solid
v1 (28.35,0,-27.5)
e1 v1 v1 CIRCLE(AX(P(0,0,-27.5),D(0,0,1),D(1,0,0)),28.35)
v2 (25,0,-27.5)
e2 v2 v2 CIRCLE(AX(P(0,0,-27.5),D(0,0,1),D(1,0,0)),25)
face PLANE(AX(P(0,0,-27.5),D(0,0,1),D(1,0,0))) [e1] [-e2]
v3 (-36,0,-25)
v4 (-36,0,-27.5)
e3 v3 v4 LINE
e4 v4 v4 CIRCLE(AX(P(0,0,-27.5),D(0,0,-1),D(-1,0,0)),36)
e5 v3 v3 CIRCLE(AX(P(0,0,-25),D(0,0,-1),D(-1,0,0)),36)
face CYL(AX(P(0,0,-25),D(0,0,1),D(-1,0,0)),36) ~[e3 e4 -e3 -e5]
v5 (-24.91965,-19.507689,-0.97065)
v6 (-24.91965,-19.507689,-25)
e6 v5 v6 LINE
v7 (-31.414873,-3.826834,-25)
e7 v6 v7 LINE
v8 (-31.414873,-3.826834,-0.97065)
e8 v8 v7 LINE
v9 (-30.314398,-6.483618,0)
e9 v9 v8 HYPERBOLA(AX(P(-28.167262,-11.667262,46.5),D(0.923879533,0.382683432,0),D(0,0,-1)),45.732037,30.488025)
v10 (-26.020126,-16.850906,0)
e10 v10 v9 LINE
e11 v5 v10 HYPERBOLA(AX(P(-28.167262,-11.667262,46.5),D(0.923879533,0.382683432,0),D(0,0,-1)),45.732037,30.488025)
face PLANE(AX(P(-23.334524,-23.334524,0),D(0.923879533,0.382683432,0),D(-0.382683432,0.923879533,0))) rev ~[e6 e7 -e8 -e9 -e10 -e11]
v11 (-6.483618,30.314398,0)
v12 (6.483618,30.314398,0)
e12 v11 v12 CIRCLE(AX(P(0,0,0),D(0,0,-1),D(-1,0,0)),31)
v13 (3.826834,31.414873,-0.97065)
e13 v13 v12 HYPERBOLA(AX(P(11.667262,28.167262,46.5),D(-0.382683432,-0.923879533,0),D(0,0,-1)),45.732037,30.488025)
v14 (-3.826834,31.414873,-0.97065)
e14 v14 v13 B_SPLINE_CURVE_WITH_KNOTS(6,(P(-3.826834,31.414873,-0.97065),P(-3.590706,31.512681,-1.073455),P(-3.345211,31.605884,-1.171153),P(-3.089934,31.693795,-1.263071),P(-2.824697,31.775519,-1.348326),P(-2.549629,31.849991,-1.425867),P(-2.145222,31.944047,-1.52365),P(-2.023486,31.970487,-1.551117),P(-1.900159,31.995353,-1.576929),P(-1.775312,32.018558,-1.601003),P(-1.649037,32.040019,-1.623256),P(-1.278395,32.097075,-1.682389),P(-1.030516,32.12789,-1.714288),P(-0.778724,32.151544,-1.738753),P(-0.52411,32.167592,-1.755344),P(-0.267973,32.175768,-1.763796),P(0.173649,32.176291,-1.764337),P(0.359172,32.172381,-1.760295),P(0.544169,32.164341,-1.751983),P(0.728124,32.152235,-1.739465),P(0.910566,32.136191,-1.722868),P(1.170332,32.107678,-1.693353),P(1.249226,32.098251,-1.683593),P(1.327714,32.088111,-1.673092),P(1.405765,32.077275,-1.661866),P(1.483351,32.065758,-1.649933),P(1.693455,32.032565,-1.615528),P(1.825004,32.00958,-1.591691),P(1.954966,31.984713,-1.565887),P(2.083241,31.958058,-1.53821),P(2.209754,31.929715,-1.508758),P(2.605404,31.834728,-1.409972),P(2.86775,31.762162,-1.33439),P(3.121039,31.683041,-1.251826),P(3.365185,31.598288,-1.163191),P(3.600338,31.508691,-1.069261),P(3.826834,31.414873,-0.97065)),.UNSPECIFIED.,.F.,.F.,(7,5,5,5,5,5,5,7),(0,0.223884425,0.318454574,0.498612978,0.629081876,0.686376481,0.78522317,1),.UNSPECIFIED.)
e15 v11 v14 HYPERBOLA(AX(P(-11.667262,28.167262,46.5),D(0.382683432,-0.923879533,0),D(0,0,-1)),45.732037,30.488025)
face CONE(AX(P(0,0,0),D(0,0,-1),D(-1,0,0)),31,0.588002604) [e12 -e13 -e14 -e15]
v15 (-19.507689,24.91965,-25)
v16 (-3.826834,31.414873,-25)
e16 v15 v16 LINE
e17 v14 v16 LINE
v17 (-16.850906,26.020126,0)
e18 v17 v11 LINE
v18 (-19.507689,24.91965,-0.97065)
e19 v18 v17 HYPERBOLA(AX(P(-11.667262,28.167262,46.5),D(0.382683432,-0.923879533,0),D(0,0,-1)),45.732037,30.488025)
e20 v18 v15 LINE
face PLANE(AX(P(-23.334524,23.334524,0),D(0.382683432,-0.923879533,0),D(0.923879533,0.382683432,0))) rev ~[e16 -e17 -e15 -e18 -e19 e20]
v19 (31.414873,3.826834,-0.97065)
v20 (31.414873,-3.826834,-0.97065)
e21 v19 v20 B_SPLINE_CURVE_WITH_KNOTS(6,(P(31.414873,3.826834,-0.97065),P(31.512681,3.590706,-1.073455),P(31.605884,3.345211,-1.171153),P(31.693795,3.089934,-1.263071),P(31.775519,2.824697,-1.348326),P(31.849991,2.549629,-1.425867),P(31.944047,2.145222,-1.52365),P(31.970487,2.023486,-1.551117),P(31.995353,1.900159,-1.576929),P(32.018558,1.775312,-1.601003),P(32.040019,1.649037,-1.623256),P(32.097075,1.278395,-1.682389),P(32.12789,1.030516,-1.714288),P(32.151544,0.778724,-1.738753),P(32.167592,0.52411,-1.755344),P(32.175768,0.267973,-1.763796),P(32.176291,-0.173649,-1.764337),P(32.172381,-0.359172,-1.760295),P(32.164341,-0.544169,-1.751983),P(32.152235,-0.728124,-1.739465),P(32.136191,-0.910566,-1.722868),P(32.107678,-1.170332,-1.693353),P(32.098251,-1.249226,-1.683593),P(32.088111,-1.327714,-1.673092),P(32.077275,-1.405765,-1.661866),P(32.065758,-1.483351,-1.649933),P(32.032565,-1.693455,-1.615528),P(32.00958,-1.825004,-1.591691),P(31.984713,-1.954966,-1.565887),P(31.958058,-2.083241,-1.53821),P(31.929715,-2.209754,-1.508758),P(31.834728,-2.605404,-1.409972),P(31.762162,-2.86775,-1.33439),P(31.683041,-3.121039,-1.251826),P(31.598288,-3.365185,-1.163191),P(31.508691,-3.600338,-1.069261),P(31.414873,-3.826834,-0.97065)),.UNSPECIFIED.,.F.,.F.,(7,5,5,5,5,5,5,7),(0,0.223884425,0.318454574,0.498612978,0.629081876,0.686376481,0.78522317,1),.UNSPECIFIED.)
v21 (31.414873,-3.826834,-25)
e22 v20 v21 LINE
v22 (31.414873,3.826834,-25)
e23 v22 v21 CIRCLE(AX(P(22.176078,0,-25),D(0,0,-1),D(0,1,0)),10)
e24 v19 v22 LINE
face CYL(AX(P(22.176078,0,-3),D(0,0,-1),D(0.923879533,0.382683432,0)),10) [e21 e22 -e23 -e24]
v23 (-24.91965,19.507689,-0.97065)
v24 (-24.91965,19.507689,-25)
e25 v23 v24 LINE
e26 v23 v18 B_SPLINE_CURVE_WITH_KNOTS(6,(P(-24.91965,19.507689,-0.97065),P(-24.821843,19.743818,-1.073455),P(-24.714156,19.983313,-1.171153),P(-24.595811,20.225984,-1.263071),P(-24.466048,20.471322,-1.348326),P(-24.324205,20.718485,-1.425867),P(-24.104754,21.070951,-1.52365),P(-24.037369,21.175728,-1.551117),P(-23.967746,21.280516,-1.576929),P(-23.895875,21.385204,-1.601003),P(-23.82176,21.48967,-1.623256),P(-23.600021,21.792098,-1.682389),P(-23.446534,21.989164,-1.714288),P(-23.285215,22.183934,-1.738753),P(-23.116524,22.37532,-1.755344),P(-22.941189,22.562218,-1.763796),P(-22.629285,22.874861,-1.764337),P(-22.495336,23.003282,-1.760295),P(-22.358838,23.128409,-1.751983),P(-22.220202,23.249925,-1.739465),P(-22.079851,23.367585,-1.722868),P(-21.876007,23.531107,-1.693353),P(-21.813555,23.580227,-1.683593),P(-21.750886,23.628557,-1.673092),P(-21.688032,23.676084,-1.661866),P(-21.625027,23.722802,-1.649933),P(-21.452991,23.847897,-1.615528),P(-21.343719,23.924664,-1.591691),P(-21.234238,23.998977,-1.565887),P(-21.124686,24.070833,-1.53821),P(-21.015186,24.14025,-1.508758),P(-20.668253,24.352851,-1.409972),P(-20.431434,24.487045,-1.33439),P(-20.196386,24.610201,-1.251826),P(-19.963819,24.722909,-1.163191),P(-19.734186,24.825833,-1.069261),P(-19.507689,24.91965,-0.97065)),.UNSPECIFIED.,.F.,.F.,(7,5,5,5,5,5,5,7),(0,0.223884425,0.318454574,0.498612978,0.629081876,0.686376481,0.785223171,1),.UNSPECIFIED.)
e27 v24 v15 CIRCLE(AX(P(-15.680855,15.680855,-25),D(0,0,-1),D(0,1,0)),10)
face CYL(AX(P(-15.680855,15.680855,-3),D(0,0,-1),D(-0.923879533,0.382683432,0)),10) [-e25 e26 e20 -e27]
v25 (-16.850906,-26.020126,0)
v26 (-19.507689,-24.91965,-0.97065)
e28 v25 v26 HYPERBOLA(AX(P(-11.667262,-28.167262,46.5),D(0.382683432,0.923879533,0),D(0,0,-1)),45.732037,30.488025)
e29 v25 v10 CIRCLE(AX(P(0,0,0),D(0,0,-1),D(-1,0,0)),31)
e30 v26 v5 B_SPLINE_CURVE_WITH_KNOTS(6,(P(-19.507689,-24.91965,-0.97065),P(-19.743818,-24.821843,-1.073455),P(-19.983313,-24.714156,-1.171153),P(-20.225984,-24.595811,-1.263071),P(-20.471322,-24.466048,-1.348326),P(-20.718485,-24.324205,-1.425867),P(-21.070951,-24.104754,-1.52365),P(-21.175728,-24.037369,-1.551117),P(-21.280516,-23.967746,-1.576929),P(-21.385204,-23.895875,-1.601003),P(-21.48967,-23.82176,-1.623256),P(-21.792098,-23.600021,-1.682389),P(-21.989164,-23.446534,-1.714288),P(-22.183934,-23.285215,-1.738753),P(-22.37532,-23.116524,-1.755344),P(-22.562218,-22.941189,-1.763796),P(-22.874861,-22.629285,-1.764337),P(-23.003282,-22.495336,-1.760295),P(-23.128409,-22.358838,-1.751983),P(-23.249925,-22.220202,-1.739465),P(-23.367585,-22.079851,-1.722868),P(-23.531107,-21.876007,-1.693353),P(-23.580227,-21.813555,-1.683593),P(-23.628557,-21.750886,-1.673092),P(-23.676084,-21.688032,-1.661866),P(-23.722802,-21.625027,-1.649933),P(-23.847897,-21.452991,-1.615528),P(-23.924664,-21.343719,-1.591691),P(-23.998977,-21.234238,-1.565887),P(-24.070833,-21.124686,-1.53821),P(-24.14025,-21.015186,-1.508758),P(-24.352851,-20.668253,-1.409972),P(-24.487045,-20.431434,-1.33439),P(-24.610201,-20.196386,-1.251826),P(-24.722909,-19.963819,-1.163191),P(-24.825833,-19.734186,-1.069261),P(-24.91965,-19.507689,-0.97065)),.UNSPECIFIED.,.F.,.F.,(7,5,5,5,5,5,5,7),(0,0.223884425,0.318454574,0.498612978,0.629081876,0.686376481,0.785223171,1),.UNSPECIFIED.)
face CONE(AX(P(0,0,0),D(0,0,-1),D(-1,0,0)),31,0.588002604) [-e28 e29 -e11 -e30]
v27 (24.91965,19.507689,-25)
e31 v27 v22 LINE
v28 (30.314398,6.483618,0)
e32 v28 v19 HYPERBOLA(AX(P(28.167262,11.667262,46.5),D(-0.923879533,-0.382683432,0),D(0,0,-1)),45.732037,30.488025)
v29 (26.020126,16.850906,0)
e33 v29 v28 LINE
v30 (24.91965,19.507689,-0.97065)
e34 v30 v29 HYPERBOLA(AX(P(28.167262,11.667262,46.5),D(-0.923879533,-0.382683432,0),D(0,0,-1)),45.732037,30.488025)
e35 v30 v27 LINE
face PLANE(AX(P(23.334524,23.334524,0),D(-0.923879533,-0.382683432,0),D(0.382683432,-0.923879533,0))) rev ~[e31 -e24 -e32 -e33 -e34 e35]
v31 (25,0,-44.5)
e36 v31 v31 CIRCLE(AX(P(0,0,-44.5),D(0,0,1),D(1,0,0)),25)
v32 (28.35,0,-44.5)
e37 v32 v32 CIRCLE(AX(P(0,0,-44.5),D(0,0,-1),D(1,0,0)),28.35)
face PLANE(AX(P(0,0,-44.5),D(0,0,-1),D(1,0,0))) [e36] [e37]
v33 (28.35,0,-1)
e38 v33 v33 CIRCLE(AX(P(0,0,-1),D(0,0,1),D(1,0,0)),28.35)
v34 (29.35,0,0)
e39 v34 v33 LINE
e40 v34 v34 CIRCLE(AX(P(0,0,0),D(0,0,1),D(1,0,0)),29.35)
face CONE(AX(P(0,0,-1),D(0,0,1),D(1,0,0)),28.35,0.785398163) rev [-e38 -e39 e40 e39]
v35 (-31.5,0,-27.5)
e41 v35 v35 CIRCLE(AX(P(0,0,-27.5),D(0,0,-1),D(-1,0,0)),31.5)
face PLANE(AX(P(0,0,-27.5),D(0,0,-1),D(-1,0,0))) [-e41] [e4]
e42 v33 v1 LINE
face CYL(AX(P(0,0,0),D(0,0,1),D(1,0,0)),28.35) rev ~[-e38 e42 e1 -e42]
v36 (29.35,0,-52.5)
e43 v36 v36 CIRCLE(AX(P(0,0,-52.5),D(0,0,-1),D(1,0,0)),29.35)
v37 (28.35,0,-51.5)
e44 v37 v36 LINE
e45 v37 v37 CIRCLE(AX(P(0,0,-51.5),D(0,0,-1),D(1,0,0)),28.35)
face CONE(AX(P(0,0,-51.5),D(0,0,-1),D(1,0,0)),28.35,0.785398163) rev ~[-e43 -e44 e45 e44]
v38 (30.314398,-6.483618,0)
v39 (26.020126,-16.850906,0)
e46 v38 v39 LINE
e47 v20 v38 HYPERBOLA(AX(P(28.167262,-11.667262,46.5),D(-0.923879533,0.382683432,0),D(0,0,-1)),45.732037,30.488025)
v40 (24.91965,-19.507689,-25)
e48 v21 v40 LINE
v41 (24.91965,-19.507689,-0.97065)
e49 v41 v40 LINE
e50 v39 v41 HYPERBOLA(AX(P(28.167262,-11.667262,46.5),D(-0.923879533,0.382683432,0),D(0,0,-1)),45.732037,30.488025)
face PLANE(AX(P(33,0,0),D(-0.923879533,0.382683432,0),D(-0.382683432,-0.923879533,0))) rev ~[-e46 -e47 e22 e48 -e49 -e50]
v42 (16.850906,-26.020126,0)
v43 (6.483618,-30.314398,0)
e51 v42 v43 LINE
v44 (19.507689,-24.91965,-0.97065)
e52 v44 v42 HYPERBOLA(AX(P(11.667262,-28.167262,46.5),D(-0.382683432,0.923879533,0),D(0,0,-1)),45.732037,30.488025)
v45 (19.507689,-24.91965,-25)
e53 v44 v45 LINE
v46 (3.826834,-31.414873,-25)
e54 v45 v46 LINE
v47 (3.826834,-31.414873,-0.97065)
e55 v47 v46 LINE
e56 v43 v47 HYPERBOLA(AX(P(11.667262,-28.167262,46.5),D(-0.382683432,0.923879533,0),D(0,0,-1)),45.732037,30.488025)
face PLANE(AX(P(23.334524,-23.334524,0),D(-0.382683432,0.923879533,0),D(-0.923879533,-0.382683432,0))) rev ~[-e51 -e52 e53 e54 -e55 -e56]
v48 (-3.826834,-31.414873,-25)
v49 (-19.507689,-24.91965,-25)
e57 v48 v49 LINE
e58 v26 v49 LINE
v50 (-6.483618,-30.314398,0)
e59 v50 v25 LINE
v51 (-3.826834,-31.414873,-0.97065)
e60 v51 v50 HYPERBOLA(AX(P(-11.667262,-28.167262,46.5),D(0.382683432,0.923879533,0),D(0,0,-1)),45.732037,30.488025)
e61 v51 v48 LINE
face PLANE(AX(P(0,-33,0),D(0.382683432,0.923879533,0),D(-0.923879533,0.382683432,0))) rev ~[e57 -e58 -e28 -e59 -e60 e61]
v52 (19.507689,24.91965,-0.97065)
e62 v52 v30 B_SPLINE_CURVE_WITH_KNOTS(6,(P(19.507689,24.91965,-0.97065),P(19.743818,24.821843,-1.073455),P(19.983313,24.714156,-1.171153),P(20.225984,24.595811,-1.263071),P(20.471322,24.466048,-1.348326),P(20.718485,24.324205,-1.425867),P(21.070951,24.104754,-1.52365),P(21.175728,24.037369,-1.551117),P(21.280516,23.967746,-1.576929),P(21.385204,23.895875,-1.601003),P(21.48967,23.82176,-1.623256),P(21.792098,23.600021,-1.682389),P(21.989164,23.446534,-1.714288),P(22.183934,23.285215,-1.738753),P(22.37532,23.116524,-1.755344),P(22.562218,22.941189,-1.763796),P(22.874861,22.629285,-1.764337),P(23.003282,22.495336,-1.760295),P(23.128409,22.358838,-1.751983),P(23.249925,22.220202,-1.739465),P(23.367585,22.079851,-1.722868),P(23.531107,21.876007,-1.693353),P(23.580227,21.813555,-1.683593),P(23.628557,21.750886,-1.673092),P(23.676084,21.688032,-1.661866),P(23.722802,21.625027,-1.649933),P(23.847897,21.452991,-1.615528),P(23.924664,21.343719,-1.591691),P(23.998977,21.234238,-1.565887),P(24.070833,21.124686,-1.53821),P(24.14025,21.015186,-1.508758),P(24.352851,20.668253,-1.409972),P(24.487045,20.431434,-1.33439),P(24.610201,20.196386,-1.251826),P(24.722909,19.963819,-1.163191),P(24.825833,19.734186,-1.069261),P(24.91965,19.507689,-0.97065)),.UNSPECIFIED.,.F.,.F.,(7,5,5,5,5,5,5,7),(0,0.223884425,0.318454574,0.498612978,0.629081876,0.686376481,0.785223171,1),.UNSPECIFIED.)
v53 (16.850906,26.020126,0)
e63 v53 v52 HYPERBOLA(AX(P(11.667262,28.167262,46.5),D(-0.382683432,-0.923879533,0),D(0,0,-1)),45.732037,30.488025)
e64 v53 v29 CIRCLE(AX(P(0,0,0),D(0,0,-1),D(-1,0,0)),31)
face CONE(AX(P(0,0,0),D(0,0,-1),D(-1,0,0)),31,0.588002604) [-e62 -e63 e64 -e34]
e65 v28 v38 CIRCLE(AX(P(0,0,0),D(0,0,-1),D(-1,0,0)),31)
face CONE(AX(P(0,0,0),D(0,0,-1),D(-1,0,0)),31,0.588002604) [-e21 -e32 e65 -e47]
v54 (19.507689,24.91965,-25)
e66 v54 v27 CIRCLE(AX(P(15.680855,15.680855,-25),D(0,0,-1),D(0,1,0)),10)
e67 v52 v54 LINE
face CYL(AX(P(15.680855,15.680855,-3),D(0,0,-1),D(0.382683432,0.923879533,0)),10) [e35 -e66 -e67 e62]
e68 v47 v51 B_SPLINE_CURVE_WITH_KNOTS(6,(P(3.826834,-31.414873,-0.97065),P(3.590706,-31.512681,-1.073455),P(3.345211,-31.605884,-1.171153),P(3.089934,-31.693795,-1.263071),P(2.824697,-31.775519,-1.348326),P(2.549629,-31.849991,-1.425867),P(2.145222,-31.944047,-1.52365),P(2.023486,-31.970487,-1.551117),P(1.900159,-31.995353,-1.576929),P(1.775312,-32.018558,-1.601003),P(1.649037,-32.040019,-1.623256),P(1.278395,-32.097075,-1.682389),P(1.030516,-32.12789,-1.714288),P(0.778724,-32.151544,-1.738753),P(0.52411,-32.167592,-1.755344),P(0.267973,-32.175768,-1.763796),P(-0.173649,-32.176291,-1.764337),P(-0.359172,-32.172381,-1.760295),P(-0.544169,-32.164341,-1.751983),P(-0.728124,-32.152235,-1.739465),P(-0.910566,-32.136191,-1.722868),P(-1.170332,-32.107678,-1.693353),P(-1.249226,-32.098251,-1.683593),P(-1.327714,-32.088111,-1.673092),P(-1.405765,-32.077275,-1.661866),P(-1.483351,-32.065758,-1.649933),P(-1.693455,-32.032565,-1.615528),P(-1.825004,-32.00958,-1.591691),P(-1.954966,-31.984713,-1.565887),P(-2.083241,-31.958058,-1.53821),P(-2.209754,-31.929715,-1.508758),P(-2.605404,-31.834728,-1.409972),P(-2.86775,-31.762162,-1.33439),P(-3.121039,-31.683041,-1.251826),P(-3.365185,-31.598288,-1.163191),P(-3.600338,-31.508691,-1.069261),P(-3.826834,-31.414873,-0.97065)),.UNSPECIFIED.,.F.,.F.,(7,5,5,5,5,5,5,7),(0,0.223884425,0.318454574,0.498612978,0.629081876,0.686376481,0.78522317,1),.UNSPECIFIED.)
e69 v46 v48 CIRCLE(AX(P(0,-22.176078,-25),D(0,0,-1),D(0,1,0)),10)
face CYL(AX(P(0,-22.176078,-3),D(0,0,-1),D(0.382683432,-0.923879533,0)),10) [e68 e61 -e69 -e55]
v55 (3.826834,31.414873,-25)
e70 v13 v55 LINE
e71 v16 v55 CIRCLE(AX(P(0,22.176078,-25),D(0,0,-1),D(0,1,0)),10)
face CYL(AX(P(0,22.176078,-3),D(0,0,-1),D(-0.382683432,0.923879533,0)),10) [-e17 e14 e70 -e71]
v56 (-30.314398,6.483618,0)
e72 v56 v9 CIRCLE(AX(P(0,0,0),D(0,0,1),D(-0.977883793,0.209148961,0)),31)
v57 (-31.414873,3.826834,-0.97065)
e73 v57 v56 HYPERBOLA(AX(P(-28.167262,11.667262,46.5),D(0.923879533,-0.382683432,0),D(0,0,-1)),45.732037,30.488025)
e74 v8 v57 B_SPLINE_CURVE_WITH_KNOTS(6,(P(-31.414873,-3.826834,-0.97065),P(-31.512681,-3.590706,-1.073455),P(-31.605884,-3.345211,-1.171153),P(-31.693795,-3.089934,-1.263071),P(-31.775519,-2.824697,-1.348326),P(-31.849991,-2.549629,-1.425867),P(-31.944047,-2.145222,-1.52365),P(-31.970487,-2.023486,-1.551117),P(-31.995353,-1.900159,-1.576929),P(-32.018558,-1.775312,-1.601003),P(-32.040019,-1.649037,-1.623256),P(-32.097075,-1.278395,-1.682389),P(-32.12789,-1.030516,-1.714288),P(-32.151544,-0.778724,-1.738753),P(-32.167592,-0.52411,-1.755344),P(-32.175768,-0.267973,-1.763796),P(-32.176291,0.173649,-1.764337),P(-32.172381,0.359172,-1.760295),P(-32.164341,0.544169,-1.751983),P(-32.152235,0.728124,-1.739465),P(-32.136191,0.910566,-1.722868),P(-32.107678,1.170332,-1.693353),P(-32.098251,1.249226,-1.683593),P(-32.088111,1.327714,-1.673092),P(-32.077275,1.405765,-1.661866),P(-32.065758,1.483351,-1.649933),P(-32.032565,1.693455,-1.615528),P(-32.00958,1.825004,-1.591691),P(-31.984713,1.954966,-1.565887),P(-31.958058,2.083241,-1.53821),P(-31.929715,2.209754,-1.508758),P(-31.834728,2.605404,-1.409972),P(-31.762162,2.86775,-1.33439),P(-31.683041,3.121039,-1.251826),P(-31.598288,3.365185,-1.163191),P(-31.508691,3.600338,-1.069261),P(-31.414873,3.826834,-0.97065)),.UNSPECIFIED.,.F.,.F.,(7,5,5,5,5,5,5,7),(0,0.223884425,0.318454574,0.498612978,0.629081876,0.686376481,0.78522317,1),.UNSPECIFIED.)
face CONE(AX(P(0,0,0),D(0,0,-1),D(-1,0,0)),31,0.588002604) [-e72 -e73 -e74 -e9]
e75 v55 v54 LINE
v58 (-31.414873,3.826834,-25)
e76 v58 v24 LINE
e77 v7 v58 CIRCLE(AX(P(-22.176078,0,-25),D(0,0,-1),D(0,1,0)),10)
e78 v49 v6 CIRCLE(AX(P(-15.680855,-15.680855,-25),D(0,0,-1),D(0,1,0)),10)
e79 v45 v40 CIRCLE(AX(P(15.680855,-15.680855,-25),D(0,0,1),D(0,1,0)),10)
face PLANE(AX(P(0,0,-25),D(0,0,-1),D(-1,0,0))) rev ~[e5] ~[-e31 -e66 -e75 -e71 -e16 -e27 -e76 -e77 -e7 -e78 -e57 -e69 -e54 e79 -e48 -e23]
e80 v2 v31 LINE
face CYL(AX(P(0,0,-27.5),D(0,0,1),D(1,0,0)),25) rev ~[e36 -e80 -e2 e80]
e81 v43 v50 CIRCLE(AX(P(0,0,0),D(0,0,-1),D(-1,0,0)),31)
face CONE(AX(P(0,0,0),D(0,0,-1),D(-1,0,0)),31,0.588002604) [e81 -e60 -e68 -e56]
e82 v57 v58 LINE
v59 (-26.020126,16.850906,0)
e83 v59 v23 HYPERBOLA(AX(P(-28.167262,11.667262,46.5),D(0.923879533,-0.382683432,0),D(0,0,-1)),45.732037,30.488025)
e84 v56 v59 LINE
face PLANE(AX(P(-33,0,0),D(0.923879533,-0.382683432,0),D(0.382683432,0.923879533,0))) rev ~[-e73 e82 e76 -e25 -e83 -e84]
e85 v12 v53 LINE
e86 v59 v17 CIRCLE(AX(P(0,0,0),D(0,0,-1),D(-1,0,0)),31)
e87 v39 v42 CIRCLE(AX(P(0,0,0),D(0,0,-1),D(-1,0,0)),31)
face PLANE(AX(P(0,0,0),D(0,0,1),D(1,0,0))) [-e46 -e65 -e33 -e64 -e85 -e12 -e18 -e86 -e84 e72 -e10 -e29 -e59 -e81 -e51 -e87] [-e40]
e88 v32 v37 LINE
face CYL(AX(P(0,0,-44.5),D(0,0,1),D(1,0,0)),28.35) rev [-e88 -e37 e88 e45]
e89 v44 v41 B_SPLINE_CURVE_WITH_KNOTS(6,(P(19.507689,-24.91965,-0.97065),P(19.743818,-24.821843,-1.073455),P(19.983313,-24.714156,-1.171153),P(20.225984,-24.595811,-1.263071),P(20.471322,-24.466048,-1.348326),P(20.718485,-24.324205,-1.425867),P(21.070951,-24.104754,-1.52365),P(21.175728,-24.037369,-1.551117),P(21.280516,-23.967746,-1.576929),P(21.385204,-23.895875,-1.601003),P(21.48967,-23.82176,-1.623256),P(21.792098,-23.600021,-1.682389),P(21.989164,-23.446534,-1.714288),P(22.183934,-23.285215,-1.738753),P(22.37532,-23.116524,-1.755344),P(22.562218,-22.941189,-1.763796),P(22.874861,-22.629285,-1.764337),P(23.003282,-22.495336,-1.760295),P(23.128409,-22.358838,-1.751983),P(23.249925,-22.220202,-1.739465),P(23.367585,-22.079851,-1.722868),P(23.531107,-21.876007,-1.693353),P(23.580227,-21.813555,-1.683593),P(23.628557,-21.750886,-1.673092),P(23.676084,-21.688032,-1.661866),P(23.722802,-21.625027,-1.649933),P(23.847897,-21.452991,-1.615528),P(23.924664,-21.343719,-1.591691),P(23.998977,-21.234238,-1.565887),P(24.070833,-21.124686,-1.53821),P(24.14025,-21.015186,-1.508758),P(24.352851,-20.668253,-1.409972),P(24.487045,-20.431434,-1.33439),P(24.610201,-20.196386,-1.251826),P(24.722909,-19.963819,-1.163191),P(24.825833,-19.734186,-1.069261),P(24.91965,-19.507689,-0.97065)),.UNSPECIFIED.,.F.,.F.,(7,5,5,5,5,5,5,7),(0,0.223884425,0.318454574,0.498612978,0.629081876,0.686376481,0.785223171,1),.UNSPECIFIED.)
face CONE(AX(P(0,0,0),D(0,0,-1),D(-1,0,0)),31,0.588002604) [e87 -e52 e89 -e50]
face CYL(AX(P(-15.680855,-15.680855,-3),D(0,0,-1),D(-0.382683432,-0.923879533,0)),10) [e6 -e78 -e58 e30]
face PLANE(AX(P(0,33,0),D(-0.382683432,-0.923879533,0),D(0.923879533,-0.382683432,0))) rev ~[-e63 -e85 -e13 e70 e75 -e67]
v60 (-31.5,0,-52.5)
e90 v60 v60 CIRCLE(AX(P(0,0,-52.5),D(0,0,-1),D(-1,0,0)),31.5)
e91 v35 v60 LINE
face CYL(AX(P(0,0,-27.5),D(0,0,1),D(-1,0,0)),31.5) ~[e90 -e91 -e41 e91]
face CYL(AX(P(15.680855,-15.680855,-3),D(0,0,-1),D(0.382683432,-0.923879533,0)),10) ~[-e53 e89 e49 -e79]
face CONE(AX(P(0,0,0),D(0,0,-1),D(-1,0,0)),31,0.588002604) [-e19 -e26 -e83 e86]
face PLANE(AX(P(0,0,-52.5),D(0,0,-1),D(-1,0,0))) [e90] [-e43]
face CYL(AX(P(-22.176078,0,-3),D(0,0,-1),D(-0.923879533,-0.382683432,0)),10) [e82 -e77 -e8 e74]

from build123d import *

# Parameters (mm, degrees)
SZKIC1_R                    = 33
DODANIE_WYCI_GNI_CIE1_DEPTH = 25
SZKIC2_R                    = 36
DODANIE_WYCI_GNI_CIE2_DEPTH = 2.5
SZKIC4_R                    = 31.5
DODANIE_WYCI_GNI_CIE3_DEPTH = 25
SZKIC11_R                   = 28.35
WYTNIJ_WYCI_GNI_CIE5_DEPTH  = 27.5
SZKIC12_R                   = 25
WYTNIJ_WYCI_GNI_CIE6_DEPTH  = 27.5
WYTNIJ_WYCI_GNI_CIE7_START  = -8
SZKIC13_R                   = 28.35
WYTNIJ_WYCI_GNI_CIE7_DEPTH  = 8
SFAZOWANIE1_SIZE            = 1
SFAZOWANIE2_SIZE            = 1
WYTNIJ_WYCI_GNI_CIE11_DEPTH = 25
ZAOKR_GLENIE1_R             = 10


with BuildPart() as part:
    # Szkic1 → Dodanie-wyciągnięcie1 (new body)
    with BuildSketch(Plane.XY):
        Circle(SZKIC1_R)
    extrude(amount=-DODANIE_WYCI_GNI_CIE1_DEPTH)

    # Szkic2 → Dodanie-wyciągnięcie2 (add)
    with BuildSketch(Plane(origin=(0, 0, -25), x_dir=(-1, 0, 0), z_dir=(0, 0, -1))):
        Circle(SZKIC2_R)
    extrude(amount=DODANIE_WYCI_GNI_CIE2_DEPTH)

    # Szkic4 → Dodanie-wyciągnięcie3 (add)
    with BuildSketch(Plane(origin=(0, 0, -27.5), x_dir=(-1, 0, 0), z_dir=(0, 0, -1))):
        Circle(SZKIC4_R)
    extrude(amount=DODANIE_WYCI_GNI_CIE3_DEPTH)

    # Szkic11 → Wytnij-wyciągnięcie5 (cut)
    with BuildSketch(Plane.XY):
        Circle(SZKIC11_R)
    extrude(amount=-WYTNIJ_WYCI_GNI_CIE5_DEPTH, mode=Mode.SUBTRACT)

    # Szkic12 → Wytnij-wyciągnięcie6 (cut)
    with BuildSketch(Plane.XY.offset(-27.5)):
        Circle(SZKIC12_R)
    extrude(amount=-WYTNIJ_WYCI_GNI_CIE6_DEPTH, mode=Mode.SUBTRACT)

    # Szkic13 → Wytnij-wyciągnięcie7 (cut)
    with BuildSketch(Plane(origin=(0, 0, -52.5), x_dir=(-1, 0, 0), z_dir=(0, 0, -1)).offset(WYTNIJ_WYCI_GNI_CIE7_START)):
        with Locations(Location((0, 0, 0), (0, 0, 180))):
            Circle(SZKIC13_R)
    extrude(amount=WYTNIJ_WYCI_GNI_CIE7_DEPTH, mode=Mode.SUBTRACT)

    # Sfazowanie1
    sfazowanie1_edges = [part.edges().sort_by_distance(p)[0] for p in [
        (-28.35, 0, 0),
    ]]
    chamfer(sfazowanie1_edges, length=SFAZOWANIE1_SIZE)

    # Sfazowanie2
    sfazowanie2_edges = [part.edges().sort_by_distance(p)[0] for p in [
        (-28.35, 0, -52.5),
    ]]
    chamfer(sfazowanie2_edges, length=SFAZOWANIE2_SIZE)

    # Szkic10 → Wytnij-wyciągnięcie11 (cut)
    with BuildSketch(Plane.XY):
        with BuildLine():
            Line((-23.334523779, -23.334523779), (-33, 0))
            ThreePointArc((-33, 0), (-30.488024573, -12.628553268), (-23.334523779, -23.334523779))
        make_face()
        with BuildLine():
            Line((-33, 0), (-23.334523779, 23.334523779))
            ThreePointArc((-23.334523779, 23.334523779), (-30.488024573, 12.628553268), (-33, 0))
        make_face()
        with BuildLine():
            Line((0, -33), (-23.334523779, -23.334523779))
            ThreePointArc((-23.334523779, -23.334523779), (-12.628553268, -30.488024573), (0, -33))
        make_face()
        with BuildLine():
            ThreePointArc((0, -33), (12.628553268, -30.488024573), (23.334523779, -23.334523779))
            Line((23.334523779, -23.334523779), (0, -33))
        make_face()
        with BuildLine():
            ThreePointArc((23.334523779, -23.334523779), (30.488024573, -12.628553268), (33, 0))
            Line((33, 0), (23.334523779, -23.334523779))
        make_face()
        with BuildLine():
            ThreePointArc((33, 0), (30.488024573, 12.628553268), (23.334523779, 23.334523779))
            Line((23.334523779, 23.334523779), (33, 0))
        make_face()
        with BuildLine():
            ThreePointArc((23.334523779, 23.334523779), (12.628553268, 30.488024573), (0, 33))
            Line((0, 33), (23.334523779, 23.334523779))
        make_face()
        with BuildLine():
            Line((-23.334523779, 23.334523779), (0, 33))
            ThreePointArc((0, 33), (-12.628553268, 30.488024573), (-23.334523779, 23.334523779))
        make_face()
    extrude(amount=-WYTNIJ_WYCI_GNI_CIE11_DEPTH, mode=Mode.SUBTRACT)

    # Szkic14 → Wycięcie-obrót3 (revolve, cut)
    with BuildSketch(Plane(origin=(0, 0, 0), x_dir=(0, 0, -1), z_dir=(1, 0, 0)), mode=Mode.PRIVATE) as wyci_cie_obr_t3_sk:
        Polygon((0, 33), (0, 31), (3, 33), align=None)
    revolve(wyci_cie_obr_t3_sk.sketch.rotate(Axis((0, 0, 0), (0, 0, -1)), 270), axis=Axis((0, 0, 0), (0, 0, -1)), mode=Mode.SUBTRACT)

    # Zaokrąglenie1
    zaokr_glenie1_edges = [part.edges().sort_by_distance(p)[0] for p in [
        (-23.334523779, 23.334523779, -14),
        (0, 33, -14),
        (23.334523779, 23.334523779, -14),
        (33, 0, -14),
        (23.334523779, -23.334523779, -14),
        (0, -33, -14),
        (-23.334523779, -23.334523779, -14),
        (-33, 0, -14),
    ]]
    fillet(zaokr_glenie1_edges, radius=ZAOKR_GLENIE1_R)


solid = part.part
